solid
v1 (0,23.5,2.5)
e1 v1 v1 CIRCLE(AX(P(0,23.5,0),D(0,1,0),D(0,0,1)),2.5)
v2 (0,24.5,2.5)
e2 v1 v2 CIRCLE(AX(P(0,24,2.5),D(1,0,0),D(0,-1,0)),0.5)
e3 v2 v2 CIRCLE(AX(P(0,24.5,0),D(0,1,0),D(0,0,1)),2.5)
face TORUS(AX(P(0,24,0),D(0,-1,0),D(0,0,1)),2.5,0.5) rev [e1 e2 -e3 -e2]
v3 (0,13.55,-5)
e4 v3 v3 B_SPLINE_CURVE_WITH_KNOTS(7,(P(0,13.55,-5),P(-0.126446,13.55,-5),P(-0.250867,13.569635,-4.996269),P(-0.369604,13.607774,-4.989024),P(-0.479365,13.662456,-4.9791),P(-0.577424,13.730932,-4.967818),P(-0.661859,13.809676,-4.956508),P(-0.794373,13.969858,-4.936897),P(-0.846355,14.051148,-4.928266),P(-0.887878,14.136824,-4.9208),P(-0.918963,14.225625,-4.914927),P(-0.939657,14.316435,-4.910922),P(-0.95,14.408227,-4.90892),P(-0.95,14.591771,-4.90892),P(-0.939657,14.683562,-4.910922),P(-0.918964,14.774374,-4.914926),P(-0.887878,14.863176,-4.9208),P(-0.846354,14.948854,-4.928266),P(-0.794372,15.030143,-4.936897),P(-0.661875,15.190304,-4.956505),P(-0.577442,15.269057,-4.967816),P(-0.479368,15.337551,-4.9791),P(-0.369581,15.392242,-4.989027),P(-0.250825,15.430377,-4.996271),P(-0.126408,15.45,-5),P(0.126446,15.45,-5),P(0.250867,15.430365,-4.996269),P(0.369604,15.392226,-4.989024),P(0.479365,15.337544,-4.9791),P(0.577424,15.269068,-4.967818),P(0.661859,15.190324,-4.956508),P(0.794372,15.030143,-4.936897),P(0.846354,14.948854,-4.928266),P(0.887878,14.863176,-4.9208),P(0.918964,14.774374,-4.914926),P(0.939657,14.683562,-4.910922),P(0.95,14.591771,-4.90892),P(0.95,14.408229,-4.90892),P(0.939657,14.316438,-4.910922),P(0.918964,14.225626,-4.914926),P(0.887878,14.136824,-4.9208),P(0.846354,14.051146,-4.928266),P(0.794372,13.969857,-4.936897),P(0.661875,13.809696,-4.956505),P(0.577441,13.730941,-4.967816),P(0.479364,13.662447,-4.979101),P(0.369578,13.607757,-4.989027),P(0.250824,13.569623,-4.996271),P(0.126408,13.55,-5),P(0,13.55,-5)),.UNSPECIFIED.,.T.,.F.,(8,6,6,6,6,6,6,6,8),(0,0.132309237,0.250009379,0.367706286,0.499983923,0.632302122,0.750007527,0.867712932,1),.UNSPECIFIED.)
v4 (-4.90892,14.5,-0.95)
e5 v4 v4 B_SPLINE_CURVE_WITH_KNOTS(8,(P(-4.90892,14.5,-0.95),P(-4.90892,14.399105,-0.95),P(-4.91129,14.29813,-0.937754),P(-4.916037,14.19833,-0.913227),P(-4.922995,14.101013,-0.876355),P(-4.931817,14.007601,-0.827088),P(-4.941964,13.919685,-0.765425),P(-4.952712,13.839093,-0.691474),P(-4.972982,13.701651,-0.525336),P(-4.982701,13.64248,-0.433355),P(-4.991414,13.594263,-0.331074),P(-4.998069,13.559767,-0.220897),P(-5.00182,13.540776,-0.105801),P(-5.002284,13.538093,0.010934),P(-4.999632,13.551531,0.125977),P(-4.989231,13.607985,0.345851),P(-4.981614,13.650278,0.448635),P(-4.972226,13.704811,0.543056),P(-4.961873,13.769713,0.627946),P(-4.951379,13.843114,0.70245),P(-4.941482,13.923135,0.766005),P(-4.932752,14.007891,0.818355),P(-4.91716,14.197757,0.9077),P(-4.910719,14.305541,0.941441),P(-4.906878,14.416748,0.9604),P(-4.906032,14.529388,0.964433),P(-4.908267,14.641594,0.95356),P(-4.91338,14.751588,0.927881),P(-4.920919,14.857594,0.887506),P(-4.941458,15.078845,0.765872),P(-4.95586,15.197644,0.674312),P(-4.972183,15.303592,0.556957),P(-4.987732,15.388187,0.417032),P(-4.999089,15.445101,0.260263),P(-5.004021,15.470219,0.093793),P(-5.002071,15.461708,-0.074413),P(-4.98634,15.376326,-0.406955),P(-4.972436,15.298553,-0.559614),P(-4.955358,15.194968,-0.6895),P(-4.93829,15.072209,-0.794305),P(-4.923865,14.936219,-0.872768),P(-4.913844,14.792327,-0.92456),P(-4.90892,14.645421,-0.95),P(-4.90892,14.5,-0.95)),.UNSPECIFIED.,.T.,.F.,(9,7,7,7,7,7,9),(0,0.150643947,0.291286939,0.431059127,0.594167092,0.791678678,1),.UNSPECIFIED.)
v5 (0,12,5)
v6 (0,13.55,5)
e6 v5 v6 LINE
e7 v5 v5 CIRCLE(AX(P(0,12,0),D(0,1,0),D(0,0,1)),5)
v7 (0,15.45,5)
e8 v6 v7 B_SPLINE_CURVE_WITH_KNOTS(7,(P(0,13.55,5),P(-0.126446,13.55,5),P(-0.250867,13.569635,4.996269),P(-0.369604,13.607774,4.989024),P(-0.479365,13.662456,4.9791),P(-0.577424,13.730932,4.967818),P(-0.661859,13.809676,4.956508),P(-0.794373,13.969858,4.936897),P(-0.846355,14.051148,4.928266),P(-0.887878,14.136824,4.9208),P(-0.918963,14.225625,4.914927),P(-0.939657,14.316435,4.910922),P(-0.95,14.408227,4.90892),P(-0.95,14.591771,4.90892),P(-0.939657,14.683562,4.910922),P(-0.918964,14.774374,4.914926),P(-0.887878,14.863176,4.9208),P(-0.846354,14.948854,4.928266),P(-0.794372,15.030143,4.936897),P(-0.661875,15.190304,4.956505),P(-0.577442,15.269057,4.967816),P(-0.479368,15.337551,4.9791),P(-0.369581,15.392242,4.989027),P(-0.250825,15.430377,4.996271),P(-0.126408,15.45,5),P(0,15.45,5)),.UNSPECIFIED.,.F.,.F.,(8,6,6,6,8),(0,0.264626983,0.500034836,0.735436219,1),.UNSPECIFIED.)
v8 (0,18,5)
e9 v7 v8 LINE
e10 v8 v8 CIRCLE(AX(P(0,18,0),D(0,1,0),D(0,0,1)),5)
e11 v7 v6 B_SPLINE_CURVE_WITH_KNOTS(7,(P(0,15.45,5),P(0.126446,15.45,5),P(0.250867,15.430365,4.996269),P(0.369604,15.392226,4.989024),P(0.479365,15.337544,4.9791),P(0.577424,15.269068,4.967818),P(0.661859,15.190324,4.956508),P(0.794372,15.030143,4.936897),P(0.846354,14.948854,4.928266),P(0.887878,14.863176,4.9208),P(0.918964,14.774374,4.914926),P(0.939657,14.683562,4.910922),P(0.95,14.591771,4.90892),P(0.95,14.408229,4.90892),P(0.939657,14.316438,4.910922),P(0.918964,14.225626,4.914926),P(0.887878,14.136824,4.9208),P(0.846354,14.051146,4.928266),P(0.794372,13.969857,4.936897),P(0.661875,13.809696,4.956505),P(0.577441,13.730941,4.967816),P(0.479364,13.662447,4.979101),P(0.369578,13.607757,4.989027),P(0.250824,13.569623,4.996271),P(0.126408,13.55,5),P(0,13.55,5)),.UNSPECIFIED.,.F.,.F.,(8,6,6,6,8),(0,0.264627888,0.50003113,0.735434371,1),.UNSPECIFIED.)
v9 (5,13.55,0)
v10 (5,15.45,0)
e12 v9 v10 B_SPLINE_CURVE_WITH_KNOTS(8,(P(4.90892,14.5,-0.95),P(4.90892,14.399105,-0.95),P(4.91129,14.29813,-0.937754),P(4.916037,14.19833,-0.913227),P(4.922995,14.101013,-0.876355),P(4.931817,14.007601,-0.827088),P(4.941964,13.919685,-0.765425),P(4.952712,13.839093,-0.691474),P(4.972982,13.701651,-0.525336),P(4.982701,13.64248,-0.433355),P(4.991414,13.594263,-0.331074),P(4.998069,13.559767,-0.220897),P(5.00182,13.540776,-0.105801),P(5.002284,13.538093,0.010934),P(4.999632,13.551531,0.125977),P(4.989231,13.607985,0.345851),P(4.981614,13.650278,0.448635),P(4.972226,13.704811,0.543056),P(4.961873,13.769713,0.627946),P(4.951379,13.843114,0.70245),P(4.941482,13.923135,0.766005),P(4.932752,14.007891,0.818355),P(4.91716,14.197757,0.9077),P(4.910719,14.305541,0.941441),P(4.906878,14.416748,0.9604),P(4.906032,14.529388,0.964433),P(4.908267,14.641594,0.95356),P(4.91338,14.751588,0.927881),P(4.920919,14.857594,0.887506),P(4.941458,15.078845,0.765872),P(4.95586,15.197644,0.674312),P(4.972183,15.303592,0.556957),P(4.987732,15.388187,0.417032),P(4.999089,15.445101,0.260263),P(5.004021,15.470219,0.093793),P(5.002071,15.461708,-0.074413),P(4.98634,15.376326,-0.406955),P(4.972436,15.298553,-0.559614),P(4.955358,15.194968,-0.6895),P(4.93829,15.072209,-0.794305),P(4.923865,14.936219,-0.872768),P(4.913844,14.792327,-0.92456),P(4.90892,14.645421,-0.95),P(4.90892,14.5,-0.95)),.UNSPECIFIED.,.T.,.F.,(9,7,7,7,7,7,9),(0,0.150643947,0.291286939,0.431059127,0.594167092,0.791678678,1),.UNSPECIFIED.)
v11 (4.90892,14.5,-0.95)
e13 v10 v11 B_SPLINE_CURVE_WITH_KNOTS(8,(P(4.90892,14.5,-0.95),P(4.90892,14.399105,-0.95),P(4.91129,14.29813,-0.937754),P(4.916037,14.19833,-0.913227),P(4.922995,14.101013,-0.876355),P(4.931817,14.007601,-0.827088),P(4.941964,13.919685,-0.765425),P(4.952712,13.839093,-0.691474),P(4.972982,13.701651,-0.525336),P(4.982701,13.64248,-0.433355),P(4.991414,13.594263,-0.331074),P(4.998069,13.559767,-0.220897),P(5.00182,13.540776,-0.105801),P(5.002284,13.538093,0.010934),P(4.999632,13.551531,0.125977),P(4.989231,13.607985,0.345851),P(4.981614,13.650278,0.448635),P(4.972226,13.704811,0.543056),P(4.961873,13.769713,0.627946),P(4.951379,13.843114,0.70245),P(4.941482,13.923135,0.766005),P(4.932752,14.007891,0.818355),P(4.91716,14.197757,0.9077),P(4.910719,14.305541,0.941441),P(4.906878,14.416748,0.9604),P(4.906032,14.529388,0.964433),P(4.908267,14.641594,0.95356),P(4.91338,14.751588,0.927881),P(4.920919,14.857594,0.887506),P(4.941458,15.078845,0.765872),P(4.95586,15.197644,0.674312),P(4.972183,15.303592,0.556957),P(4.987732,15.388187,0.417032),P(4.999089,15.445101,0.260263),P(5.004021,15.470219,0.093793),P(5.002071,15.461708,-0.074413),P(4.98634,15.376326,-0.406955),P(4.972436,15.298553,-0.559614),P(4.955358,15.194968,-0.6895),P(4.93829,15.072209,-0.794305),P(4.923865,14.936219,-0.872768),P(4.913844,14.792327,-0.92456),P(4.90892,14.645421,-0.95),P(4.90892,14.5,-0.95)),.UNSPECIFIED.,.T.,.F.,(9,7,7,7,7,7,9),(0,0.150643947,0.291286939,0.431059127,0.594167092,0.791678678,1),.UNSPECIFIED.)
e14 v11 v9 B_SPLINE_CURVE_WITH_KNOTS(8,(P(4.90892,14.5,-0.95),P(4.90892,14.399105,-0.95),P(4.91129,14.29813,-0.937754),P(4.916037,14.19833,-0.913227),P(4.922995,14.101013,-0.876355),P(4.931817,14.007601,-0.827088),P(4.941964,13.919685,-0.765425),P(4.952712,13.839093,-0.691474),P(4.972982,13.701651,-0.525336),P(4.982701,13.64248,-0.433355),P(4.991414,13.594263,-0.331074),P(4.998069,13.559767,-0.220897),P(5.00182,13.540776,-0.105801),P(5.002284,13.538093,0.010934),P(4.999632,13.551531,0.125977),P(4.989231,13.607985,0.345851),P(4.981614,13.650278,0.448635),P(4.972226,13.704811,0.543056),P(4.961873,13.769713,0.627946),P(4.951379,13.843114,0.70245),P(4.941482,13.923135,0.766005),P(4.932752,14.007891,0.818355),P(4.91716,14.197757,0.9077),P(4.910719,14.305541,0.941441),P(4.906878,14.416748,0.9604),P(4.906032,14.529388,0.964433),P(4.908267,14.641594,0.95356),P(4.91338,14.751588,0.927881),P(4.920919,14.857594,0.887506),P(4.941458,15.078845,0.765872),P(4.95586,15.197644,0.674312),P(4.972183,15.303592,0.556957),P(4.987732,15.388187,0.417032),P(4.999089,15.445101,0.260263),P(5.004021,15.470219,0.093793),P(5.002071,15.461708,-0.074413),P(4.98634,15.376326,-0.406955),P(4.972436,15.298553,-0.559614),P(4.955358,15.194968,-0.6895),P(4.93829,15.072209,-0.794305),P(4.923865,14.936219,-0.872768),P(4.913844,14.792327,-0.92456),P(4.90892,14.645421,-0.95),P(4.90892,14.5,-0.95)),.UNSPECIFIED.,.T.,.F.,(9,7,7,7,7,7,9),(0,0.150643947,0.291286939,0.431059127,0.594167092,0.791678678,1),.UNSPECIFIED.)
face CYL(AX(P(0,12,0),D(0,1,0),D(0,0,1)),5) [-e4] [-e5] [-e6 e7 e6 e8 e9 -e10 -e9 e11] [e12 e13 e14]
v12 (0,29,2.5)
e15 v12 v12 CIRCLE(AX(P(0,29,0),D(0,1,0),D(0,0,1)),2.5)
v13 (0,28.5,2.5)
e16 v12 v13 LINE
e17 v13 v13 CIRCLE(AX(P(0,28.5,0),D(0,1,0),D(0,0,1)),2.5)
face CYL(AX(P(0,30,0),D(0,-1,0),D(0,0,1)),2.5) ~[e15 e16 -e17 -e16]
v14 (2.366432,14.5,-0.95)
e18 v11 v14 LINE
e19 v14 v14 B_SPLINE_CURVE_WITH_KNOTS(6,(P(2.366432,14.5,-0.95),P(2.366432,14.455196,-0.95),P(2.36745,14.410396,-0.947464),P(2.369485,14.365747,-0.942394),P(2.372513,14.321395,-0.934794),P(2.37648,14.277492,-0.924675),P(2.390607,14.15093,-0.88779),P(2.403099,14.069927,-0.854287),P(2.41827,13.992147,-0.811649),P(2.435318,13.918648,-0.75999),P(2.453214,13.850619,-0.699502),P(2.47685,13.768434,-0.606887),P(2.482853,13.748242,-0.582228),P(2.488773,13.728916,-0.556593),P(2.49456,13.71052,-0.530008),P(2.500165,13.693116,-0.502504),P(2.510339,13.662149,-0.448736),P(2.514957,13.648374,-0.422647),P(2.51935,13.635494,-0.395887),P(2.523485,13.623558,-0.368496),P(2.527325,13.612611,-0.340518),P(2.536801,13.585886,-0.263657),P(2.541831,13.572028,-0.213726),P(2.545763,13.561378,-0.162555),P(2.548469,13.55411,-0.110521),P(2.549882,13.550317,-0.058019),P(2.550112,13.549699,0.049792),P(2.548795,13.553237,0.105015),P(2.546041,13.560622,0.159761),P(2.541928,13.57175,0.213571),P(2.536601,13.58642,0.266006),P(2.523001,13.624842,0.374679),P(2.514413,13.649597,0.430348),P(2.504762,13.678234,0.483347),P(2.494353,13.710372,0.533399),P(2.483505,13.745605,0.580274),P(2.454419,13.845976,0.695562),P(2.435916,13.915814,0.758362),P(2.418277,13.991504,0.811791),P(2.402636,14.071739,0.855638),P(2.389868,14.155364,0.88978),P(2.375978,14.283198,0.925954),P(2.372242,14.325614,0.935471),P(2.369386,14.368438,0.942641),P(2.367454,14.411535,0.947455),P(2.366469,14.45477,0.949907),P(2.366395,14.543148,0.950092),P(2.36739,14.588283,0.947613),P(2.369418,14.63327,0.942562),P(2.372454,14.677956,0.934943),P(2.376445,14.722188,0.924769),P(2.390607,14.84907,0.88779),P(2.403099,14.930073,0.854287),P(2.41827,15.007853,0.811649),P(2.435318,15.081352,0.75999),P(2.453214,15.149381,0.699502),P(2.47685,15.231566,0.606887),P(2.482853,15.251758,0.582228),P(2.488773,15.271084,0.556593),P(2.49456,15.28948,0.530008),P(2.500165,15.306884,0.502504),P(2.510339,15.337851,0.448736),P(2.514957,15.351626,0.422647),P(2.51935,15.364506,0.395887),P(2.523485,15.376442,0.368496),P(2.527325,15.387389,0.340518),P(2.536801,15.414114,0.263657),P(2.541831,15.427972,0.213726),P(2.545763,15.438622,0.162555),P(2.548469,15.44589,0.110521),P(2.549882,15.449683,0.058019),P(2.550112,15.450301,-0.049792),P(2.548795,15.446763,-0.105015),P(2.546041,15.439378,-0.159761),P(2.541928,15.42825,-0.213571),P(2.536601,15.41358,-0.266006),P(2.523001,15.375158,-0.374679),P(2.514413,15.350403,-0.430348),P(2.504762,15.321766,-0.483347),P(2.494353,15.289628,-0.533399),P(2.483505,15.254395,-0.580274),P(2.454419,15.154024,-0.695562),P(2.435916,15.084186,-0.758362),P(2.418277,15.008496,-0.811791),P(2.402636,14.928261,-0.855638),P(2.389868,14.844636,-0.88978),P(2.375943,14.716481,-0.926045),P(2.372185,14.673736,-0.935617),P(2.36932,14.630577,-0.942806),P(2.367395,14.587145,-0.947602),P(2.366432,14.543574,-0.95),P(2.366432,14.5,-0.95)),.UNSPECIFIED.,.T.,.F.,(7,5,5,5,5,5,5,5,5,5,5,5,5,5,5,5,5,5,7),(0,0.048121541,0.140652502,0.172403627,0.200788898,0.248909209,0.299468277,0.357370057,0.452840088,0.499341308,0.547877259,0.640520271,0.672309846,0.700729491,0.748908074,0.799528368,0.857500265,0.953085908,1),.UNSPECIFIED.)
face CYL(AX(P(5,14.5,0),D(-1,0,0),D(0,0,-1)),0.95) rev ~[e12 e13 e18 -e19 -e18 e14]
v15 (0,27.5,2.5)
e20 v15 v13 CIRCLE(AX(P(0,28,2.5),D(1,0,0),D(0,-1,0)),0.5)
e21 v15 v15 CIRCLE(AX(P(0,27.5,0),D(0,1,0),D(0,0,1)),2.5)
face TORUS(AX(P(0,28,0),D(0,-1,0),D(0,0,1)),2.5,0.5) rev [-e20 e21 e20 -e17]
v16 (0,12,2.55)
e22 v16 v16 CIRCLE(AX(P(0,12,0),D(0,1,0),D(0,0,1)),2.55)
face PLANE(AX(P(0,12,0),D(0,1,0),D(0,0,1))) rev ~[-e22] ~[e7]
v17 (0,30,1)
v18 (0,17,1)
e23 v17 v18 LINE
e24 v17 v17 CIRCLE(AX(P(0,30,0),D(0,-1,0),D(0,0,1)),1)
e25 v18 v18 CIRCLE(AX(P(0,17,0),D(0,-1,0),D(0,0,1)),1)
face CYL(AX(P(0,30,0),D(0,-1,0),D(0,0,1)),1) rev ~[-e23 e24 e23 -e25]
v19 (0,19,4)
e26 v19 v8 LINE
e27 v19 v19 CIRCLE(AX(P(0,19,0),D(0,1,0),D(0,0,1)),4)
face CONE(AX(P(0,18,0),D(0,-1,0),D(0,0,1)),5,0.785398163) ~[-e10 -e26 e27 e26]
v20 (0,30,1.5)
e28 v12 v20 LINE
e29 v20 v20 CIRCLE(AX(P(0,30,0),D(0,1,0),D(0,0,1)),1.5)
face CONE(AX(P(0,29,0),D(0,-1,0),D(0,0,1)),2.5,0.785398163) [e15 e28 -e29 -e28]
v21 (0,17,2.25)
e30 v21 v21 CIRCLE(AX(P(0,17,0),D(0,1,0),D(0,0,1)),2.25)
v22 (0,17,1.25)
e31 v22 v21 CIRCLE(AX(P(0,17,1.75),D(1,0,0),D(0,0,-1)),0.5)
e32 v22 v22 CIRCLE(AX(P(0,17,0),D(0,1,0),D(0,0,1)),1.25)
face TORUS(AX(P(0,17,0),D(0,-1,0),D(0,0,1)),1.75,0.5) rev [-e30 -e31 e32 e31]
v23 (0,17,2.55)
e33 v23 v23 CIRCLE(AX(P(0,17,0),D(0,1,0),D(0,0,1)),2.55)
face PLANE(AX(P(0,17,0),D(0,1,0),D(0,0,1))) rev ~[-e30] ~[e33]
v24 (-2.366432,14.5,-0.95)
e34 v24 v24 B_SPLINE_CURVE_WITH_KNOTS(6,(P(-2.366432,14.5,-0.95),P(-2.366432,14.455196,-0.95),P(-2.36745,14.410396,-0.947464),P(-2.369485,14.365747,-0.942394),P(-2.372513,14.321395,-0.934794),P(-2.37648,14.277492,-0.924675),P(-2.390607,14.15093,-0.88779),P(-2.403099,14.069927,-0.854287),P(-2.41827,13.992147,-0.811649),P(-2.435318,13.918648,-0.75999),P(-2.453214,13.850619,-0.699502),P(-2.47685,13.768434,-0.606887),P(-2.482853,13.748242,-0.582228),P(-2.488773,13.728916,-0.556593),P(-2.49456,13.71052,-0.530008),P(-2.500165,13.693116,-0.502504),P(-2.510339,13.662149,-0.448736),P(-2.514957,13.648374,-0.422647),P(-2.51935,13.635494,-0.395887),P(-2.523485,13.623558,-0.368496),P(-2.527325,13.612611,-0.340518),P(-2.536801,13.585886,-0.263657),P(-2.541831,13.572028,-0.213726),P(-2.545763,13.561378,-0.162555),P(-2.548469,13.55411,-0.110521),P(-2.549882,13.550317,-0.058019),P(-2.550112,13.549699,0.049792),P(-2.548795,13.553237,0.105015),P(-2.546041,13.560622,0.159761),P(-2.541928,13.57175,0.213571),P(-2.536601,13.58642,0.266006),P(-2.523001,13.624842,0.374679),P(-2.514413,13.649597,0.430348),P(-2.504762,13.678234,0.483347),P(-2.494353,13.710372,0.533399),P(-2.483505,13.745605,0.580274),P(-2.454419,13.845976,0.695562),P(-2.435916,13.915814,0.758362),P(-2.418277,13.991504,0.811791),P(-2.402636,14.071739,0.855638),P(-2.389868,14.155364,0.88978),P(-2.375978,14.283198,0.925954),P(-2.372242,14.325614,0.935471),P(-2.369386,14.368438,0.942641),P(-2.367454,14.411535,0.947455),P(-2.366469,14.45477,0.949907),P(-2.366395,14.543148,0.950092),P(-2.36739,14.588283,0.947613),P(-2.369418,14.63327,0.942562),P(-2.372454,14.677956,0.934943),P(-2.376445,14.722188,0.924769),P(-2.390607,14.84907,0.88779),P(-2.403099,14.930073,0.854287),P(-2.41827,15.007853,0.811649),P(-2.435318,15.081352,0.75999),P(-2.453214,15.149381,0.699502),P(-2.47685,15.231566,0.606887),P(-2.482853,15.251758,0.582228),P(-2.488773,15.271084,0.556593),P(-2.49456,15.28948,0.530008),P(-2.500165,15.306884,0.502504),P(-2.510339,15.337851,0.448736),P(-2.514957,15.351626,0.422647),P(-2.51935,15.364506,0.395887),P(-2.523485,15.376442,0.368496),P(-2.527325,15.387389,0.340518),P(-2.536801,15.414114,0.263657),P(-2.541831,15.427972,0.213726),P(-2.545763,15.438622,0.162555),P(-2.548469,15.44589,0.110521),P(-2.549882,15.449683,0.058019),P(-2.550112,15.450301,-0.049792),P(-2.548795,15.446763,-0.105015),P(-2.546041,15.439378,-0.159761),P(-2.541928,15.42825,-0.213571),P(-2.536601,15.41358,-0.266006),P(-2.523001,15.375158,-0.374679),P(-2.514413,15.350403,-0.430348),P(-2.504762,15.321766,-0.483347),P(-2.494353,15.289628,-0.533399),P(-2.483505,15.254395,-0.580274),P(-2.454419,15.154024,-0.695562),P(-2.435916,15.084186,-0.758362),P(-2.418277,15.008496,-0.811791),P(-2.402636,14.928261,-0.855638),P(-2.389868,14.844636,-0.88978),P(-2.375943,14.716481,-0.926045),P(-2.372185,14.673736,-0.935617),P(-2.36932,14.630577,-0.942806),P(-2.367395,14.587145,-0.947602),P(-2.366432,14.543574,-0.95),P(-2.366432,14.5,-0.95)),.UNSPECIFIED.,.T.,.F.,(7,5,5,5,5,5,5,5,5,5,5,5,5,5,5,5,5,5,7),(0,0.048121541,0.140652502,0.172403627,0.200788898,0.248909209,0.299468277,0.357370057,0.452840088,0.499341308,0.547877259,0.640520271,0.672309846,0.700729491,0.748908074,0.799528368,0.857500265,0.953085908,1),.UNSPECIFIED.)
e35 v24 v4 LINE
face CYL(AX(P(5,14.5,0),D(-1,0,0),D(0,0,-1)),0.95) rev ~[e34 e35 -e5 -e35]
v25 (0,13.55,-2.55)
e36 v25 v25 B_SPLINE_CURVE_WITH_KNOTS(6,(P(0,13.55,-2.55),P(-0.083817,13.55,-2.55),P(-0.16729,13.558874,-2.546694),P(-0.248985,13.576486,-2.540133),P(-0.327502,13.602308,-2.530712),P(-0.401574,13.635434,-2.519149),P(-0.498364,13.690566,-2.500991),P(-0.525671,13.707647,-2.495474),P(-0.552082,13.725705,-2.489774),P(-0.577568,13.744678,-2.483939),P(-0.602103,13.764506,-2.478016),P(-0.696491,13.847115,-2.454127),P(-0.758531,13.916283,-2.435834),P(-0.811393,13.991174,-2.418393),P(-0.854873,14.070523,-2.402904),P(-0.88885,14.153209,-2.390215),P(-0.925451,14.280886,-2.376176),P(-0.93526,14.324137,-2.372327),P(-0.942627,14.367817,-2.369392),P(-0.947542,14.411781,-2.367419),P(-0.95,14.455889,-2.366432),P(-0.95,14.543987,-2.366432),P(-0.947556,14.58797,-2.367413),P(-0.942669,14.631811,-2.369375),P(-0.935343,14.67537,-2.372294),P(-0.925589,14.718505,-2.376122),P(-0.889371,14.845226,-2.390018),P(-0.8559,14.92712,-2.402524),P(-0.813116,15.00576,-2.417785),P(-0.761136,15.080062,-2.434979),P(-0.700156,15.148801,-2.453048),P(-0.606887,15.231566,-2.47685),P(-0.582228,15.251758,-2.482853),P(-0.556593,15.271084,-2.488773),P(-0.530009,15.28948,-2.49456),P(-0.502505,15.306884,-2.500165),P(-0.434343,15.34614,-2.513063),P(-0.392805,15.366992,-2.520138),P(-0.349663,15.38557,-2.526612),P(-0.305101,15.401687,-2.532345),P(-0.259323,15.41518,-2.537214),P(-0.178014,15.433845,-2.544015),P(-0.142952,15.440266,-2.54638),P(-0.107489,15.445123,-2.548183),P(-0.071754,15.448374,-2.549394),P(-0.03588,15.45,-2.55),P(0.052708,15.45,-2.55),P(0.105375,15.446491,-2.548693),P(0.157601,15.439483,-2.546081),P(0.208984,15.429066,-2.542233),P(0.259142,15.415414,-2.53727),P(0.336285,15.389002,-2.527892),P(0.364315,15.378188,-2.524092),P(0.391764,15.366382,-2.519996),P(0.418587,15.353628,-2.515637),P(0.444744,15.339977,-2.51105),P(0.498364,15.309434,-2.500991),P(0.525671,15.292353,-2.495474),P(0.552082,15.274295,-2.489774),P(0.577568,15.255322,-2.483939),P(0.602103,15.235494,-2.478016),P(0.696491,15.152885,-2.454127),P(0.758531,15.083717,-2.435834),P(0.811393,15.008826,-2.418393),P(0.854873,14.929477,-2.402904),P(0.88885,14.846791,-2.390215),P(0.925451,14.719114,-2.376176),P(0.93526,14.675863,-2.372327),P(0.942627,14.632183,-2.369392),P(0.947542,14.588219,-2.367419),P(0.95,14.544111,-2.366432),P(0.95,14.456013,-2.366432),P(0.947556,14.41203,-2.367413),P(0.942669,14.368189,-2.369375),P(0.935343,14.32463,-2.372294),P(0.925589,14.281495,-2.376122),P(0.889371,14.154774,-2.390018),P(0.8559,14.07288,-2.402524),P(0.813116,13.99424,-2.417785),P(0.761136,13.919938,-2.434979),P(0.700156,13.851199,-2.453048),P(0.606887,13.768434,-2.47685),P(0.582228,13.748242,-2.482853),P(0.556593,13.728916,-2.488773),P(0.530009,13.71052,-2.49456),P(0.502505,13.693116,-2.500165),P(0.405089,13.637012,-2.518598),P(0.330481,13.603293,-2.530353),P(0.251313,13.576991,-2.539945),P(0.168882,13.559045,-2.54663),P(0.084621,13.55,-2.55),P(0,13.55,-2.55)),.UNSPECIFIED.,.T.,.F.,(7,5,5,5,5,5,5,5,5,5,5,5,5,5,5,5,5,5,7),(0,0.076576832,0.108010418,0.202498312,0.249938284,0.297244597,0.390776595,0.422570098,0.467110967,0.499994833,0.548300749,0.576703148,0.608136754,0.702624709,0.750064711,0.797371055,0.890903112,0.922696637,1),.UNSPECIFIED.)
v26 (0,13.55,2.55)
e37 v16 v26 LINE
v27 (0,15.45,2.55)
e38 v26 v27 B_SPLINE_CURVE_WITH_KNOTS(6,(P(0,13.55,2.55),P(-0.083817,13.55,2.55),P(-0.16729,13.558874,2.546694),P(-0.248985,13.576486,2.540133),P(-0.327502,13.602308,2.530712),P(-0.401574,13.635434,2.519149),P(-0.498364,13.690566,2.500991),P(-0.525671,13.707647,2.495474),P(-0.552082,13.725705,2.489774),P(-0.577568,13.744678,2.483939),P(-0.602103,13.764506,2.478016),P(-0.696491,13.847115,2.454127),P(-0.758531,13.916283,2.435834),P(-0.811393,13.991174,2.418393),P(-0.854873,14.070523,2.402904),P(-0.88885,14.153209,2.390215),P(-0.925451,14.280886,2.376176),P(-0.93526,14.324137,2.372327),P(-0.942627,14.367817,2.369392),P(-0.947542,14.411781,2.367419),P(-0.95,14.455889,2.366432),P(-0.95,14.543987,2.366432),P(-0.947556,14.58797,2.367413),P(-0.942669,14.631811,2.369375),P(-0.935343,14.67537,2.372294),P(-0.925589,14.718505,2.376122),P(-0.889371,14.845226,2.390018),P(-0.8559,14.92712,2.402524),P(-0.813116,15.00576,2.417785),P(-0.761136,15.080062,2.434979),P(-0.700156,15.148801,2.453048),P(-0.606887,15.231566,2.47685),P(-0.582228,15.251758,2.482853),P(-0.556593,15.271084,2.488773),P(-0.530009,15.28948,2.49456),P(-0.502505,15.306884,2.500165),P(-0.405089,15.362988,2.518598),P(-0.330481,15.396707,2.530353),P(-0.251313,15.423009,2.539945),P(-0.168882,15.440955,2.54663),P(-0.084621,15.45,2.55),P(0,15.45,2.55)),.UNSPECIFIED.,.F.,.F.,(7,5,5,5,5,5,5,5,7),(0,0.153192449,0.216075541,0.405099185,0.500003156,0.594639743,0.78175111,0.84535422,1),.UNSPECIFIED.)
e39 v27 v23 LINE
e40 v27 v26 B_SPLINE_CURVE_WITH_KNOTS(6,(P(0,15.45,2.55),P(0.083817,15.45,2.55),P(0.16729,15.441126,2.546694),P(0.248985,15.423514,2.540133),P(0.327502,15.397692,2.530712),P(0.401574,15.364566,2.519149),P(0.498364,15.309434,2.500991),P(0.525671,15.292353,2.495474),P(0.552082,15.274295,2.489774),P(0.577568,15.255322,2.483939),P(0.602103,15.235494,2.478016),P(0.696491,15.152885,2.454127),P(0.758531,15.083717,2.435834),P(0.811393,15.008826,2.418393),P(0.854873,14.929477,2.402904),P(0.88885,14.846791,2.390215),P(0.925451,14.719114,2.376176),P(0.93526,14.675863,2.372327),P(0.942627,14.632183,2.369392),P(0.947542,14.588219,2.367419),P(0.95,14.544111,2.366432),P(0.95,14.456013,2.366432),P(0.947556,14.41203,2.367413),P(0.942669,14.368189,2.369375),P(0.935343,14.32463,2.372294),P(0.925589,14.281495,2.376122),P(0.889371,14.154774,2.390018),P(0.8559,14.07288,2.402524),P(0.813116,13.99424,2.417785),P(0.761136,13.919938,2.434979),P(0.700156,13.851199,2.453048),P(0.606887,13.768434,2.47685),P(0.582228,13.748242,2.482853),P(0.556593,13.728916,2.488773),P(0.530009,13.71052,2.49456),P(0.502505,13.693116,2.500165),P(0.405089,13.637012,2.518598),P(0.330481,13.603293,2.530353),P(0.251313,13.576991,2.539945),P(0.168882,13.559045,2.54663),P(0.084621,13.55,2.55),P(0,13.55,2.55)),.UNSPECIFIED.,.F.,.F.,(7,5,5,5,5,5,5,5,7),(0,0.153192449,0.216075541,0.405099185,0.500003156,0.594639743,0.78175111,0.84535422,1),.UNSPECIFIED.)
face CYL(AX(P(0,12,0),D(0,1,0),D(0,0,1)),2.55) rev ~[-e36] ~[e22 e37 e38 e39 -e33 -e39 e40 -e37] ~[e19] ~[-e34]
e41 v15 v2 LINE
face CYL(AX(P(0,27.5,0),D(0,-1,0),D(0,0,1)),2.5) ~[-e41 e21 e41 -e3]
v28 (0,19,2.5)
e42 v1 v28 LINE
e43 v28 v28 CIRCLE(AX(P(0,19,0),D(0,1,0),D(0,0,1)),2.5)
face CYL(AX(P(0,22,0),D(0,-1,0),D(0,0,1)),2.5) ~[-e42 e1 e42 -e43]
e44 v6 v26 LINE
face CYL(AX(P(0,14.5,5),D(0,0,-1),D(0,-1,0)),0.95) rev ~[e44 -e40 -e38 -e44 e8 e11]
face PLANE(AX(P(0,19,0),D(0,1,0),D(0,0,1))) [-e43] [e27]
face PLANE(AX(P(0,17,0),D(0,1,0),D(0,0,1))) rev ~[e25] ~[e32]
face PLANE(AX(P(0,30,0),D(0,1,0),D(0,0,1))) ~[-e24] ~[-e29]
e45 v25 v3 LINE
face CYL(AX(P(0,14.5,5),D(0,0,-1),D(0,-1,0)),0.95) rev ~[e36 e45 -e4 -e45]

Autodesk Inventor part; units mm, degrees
sketch "Sketch1" plane through (0, 0, 0) normal (1, 0, 0) x (0, 1, 0)
  line L0 (0, 0) -> (31.6248, 0)
  line L1 (30, 1) -> (30, 2.5)
  line L2 (27.5, 2.5) -> (24.5, 2.5)
  arc A0 (27.5, 2.5) -> (28.5, 2.5) centre (28, 2.5) ccw
  arc A1 (23.5, 2.5) -> (24.5, 2.5) centre (24, 2.5) ccw
  line L3 (19, 5) -> (19, 2.5)
  line L4 (23.5, 2.5) -> (22, 2.5)
  line L5 (22, 2.5) -> (19, 2.5)
  line L6 (30, 2.5) -> (28.5, 2.5)
  line L7 (12, 5) -> (19, 5)
  line L8 (17, 1.25) -> (17, 1)
  arc A2 (17, 1.25) -> (17, 2.25) centre (17, 1.75) ccw
  line L9 (19, 5) -> (19, 4)
  line L10 (19, 5) -> (18, 5)
  line L11 (12, 5) -> (12, 2.55)
  line L12 (12, 2.55) -> (17, 2.55)
  line L13 (17, 2.55) -> (17, 2.25)
  line L14 (30, 2.5) -> (30, 0)
  line L15 (17, 1) -> (17, 0)
  line L16 (17, 0) -> (30, 0)
  dimension "d50" = 1.5
  dimension "d63" = 1
  dimension "d64" = 3
  dimension "d65" = 1
  dimension "d77" = 1
  dimension "d78" = 2.5
  dimension "d79" = 1.5
  dimension "d94" = 1.5
  dimension "d95" = 3
  dimension "d99" = 8
  dimension "d134" = 7
  dimension "d141" = 0.25
  dimension "d166" = 1
  dimension "d167" = 1
  dimension "d168" = 5
  dimension "d170" = 4.5
  dimension "d171" = 11
  dimension "d172" = 2.45
  dimension "d173" = 1.75
  dimension "d174" = 1
  dimension "d175" = 18
revolve "Revolution1" add sketch "Sketch1" angle 360 about axis through (0, 0, 0) along (0, 1, 0)
ref_plane "Work Plane2" through (0, 0, 5) normal (0, 0, 1) x (1, 0, 0)
sketch "Sketch5" plane through (0, 0, 5) normal (0, 0, 1) x (1, 0, 0)
  line L0 (5, -4) -> (-5, -4) projected
  line L1 (5, 12) -> (-5, 12) projected
  circle A0 centre (0, 14.5) radius 0.95
  dimension "d144" = 1.9
hole "Hole1" at (0, 14.5, 5) direction (0, 0, -1) diameter 1.9 end through all
chamfer "Chamfer3" distance 1 angle 45 1 edges at (0, 30, -2.5)
ref_plane "Work Plane3" through (5, 0, 0) normal (1, 0, 0) x (0, 1, 0)
sketch "Sketch6" plane through (5, 0, 0) normal (1, 0, 0) x (0, 1, 0)
  line L0 (12, -5) -> (12, 5) projected
  circle A0 centre (14.5, 0) radius 0.95
  point P0 (0, 0)
  dimension "d147" = 1.9
hole "Hole2" at (5, 14.5, 0) direction (-1, 0, 0) diameter 1.9 end through all
thread "Thread5" size "M2x0.4" class "6H" standard "ANSI Metric M Profile" full length
thread "Thread6" size "M2x0.4" class "6H" standard "ANSI Metric M Profile" full length
thread "Thread7" size "M2x0.4" class "6H" standard "ANSI Metric M Profile" full length
thread "Thread8" size "M2x0.4" class "6H" standard "ANSI Metric M Profile" full length
chamfer "Chamfer4" distance 1 angle 45 1 edges at (0, 19, -5)
sketch "Sketch7" plane through (0, 30, 0) normal (0, 1, 0) x (1, 0, 0)
  circle A0 centre (0, 0) radius 1
  dimension "d176" = 2
hole "Hole3" at (0, 30, 0) direction (0, -1, 0) diameter 2 end through all
ref_plane "Work Plane4" through (0, 14.5, 0) normal (0, 1, 0) x (-1, 0, 0)
sketch "Sketch8" plane through (0, 14.5, 0) normal (0, 1, 0) x (-1, 0, 0)
  circle A0 centre (0, 0) radius 5
  circle A1 centre (0, 0) radius 4
  circle A2 centre (0, 0) radius 1.25 projected
  circle A3 centre (0, 0) radius 2.5
  circle A4 centre (0, 0) radius 2.25
  circle A5 centre (0, 0) radius 1.25
  circle A6 centre (0, 0) radius 1
  circle A7 centre (0, 0) radius 1.5
  circle A8 centre (0, 0) radius 2
properties part number "Extender" material "Aluminum 6061"
